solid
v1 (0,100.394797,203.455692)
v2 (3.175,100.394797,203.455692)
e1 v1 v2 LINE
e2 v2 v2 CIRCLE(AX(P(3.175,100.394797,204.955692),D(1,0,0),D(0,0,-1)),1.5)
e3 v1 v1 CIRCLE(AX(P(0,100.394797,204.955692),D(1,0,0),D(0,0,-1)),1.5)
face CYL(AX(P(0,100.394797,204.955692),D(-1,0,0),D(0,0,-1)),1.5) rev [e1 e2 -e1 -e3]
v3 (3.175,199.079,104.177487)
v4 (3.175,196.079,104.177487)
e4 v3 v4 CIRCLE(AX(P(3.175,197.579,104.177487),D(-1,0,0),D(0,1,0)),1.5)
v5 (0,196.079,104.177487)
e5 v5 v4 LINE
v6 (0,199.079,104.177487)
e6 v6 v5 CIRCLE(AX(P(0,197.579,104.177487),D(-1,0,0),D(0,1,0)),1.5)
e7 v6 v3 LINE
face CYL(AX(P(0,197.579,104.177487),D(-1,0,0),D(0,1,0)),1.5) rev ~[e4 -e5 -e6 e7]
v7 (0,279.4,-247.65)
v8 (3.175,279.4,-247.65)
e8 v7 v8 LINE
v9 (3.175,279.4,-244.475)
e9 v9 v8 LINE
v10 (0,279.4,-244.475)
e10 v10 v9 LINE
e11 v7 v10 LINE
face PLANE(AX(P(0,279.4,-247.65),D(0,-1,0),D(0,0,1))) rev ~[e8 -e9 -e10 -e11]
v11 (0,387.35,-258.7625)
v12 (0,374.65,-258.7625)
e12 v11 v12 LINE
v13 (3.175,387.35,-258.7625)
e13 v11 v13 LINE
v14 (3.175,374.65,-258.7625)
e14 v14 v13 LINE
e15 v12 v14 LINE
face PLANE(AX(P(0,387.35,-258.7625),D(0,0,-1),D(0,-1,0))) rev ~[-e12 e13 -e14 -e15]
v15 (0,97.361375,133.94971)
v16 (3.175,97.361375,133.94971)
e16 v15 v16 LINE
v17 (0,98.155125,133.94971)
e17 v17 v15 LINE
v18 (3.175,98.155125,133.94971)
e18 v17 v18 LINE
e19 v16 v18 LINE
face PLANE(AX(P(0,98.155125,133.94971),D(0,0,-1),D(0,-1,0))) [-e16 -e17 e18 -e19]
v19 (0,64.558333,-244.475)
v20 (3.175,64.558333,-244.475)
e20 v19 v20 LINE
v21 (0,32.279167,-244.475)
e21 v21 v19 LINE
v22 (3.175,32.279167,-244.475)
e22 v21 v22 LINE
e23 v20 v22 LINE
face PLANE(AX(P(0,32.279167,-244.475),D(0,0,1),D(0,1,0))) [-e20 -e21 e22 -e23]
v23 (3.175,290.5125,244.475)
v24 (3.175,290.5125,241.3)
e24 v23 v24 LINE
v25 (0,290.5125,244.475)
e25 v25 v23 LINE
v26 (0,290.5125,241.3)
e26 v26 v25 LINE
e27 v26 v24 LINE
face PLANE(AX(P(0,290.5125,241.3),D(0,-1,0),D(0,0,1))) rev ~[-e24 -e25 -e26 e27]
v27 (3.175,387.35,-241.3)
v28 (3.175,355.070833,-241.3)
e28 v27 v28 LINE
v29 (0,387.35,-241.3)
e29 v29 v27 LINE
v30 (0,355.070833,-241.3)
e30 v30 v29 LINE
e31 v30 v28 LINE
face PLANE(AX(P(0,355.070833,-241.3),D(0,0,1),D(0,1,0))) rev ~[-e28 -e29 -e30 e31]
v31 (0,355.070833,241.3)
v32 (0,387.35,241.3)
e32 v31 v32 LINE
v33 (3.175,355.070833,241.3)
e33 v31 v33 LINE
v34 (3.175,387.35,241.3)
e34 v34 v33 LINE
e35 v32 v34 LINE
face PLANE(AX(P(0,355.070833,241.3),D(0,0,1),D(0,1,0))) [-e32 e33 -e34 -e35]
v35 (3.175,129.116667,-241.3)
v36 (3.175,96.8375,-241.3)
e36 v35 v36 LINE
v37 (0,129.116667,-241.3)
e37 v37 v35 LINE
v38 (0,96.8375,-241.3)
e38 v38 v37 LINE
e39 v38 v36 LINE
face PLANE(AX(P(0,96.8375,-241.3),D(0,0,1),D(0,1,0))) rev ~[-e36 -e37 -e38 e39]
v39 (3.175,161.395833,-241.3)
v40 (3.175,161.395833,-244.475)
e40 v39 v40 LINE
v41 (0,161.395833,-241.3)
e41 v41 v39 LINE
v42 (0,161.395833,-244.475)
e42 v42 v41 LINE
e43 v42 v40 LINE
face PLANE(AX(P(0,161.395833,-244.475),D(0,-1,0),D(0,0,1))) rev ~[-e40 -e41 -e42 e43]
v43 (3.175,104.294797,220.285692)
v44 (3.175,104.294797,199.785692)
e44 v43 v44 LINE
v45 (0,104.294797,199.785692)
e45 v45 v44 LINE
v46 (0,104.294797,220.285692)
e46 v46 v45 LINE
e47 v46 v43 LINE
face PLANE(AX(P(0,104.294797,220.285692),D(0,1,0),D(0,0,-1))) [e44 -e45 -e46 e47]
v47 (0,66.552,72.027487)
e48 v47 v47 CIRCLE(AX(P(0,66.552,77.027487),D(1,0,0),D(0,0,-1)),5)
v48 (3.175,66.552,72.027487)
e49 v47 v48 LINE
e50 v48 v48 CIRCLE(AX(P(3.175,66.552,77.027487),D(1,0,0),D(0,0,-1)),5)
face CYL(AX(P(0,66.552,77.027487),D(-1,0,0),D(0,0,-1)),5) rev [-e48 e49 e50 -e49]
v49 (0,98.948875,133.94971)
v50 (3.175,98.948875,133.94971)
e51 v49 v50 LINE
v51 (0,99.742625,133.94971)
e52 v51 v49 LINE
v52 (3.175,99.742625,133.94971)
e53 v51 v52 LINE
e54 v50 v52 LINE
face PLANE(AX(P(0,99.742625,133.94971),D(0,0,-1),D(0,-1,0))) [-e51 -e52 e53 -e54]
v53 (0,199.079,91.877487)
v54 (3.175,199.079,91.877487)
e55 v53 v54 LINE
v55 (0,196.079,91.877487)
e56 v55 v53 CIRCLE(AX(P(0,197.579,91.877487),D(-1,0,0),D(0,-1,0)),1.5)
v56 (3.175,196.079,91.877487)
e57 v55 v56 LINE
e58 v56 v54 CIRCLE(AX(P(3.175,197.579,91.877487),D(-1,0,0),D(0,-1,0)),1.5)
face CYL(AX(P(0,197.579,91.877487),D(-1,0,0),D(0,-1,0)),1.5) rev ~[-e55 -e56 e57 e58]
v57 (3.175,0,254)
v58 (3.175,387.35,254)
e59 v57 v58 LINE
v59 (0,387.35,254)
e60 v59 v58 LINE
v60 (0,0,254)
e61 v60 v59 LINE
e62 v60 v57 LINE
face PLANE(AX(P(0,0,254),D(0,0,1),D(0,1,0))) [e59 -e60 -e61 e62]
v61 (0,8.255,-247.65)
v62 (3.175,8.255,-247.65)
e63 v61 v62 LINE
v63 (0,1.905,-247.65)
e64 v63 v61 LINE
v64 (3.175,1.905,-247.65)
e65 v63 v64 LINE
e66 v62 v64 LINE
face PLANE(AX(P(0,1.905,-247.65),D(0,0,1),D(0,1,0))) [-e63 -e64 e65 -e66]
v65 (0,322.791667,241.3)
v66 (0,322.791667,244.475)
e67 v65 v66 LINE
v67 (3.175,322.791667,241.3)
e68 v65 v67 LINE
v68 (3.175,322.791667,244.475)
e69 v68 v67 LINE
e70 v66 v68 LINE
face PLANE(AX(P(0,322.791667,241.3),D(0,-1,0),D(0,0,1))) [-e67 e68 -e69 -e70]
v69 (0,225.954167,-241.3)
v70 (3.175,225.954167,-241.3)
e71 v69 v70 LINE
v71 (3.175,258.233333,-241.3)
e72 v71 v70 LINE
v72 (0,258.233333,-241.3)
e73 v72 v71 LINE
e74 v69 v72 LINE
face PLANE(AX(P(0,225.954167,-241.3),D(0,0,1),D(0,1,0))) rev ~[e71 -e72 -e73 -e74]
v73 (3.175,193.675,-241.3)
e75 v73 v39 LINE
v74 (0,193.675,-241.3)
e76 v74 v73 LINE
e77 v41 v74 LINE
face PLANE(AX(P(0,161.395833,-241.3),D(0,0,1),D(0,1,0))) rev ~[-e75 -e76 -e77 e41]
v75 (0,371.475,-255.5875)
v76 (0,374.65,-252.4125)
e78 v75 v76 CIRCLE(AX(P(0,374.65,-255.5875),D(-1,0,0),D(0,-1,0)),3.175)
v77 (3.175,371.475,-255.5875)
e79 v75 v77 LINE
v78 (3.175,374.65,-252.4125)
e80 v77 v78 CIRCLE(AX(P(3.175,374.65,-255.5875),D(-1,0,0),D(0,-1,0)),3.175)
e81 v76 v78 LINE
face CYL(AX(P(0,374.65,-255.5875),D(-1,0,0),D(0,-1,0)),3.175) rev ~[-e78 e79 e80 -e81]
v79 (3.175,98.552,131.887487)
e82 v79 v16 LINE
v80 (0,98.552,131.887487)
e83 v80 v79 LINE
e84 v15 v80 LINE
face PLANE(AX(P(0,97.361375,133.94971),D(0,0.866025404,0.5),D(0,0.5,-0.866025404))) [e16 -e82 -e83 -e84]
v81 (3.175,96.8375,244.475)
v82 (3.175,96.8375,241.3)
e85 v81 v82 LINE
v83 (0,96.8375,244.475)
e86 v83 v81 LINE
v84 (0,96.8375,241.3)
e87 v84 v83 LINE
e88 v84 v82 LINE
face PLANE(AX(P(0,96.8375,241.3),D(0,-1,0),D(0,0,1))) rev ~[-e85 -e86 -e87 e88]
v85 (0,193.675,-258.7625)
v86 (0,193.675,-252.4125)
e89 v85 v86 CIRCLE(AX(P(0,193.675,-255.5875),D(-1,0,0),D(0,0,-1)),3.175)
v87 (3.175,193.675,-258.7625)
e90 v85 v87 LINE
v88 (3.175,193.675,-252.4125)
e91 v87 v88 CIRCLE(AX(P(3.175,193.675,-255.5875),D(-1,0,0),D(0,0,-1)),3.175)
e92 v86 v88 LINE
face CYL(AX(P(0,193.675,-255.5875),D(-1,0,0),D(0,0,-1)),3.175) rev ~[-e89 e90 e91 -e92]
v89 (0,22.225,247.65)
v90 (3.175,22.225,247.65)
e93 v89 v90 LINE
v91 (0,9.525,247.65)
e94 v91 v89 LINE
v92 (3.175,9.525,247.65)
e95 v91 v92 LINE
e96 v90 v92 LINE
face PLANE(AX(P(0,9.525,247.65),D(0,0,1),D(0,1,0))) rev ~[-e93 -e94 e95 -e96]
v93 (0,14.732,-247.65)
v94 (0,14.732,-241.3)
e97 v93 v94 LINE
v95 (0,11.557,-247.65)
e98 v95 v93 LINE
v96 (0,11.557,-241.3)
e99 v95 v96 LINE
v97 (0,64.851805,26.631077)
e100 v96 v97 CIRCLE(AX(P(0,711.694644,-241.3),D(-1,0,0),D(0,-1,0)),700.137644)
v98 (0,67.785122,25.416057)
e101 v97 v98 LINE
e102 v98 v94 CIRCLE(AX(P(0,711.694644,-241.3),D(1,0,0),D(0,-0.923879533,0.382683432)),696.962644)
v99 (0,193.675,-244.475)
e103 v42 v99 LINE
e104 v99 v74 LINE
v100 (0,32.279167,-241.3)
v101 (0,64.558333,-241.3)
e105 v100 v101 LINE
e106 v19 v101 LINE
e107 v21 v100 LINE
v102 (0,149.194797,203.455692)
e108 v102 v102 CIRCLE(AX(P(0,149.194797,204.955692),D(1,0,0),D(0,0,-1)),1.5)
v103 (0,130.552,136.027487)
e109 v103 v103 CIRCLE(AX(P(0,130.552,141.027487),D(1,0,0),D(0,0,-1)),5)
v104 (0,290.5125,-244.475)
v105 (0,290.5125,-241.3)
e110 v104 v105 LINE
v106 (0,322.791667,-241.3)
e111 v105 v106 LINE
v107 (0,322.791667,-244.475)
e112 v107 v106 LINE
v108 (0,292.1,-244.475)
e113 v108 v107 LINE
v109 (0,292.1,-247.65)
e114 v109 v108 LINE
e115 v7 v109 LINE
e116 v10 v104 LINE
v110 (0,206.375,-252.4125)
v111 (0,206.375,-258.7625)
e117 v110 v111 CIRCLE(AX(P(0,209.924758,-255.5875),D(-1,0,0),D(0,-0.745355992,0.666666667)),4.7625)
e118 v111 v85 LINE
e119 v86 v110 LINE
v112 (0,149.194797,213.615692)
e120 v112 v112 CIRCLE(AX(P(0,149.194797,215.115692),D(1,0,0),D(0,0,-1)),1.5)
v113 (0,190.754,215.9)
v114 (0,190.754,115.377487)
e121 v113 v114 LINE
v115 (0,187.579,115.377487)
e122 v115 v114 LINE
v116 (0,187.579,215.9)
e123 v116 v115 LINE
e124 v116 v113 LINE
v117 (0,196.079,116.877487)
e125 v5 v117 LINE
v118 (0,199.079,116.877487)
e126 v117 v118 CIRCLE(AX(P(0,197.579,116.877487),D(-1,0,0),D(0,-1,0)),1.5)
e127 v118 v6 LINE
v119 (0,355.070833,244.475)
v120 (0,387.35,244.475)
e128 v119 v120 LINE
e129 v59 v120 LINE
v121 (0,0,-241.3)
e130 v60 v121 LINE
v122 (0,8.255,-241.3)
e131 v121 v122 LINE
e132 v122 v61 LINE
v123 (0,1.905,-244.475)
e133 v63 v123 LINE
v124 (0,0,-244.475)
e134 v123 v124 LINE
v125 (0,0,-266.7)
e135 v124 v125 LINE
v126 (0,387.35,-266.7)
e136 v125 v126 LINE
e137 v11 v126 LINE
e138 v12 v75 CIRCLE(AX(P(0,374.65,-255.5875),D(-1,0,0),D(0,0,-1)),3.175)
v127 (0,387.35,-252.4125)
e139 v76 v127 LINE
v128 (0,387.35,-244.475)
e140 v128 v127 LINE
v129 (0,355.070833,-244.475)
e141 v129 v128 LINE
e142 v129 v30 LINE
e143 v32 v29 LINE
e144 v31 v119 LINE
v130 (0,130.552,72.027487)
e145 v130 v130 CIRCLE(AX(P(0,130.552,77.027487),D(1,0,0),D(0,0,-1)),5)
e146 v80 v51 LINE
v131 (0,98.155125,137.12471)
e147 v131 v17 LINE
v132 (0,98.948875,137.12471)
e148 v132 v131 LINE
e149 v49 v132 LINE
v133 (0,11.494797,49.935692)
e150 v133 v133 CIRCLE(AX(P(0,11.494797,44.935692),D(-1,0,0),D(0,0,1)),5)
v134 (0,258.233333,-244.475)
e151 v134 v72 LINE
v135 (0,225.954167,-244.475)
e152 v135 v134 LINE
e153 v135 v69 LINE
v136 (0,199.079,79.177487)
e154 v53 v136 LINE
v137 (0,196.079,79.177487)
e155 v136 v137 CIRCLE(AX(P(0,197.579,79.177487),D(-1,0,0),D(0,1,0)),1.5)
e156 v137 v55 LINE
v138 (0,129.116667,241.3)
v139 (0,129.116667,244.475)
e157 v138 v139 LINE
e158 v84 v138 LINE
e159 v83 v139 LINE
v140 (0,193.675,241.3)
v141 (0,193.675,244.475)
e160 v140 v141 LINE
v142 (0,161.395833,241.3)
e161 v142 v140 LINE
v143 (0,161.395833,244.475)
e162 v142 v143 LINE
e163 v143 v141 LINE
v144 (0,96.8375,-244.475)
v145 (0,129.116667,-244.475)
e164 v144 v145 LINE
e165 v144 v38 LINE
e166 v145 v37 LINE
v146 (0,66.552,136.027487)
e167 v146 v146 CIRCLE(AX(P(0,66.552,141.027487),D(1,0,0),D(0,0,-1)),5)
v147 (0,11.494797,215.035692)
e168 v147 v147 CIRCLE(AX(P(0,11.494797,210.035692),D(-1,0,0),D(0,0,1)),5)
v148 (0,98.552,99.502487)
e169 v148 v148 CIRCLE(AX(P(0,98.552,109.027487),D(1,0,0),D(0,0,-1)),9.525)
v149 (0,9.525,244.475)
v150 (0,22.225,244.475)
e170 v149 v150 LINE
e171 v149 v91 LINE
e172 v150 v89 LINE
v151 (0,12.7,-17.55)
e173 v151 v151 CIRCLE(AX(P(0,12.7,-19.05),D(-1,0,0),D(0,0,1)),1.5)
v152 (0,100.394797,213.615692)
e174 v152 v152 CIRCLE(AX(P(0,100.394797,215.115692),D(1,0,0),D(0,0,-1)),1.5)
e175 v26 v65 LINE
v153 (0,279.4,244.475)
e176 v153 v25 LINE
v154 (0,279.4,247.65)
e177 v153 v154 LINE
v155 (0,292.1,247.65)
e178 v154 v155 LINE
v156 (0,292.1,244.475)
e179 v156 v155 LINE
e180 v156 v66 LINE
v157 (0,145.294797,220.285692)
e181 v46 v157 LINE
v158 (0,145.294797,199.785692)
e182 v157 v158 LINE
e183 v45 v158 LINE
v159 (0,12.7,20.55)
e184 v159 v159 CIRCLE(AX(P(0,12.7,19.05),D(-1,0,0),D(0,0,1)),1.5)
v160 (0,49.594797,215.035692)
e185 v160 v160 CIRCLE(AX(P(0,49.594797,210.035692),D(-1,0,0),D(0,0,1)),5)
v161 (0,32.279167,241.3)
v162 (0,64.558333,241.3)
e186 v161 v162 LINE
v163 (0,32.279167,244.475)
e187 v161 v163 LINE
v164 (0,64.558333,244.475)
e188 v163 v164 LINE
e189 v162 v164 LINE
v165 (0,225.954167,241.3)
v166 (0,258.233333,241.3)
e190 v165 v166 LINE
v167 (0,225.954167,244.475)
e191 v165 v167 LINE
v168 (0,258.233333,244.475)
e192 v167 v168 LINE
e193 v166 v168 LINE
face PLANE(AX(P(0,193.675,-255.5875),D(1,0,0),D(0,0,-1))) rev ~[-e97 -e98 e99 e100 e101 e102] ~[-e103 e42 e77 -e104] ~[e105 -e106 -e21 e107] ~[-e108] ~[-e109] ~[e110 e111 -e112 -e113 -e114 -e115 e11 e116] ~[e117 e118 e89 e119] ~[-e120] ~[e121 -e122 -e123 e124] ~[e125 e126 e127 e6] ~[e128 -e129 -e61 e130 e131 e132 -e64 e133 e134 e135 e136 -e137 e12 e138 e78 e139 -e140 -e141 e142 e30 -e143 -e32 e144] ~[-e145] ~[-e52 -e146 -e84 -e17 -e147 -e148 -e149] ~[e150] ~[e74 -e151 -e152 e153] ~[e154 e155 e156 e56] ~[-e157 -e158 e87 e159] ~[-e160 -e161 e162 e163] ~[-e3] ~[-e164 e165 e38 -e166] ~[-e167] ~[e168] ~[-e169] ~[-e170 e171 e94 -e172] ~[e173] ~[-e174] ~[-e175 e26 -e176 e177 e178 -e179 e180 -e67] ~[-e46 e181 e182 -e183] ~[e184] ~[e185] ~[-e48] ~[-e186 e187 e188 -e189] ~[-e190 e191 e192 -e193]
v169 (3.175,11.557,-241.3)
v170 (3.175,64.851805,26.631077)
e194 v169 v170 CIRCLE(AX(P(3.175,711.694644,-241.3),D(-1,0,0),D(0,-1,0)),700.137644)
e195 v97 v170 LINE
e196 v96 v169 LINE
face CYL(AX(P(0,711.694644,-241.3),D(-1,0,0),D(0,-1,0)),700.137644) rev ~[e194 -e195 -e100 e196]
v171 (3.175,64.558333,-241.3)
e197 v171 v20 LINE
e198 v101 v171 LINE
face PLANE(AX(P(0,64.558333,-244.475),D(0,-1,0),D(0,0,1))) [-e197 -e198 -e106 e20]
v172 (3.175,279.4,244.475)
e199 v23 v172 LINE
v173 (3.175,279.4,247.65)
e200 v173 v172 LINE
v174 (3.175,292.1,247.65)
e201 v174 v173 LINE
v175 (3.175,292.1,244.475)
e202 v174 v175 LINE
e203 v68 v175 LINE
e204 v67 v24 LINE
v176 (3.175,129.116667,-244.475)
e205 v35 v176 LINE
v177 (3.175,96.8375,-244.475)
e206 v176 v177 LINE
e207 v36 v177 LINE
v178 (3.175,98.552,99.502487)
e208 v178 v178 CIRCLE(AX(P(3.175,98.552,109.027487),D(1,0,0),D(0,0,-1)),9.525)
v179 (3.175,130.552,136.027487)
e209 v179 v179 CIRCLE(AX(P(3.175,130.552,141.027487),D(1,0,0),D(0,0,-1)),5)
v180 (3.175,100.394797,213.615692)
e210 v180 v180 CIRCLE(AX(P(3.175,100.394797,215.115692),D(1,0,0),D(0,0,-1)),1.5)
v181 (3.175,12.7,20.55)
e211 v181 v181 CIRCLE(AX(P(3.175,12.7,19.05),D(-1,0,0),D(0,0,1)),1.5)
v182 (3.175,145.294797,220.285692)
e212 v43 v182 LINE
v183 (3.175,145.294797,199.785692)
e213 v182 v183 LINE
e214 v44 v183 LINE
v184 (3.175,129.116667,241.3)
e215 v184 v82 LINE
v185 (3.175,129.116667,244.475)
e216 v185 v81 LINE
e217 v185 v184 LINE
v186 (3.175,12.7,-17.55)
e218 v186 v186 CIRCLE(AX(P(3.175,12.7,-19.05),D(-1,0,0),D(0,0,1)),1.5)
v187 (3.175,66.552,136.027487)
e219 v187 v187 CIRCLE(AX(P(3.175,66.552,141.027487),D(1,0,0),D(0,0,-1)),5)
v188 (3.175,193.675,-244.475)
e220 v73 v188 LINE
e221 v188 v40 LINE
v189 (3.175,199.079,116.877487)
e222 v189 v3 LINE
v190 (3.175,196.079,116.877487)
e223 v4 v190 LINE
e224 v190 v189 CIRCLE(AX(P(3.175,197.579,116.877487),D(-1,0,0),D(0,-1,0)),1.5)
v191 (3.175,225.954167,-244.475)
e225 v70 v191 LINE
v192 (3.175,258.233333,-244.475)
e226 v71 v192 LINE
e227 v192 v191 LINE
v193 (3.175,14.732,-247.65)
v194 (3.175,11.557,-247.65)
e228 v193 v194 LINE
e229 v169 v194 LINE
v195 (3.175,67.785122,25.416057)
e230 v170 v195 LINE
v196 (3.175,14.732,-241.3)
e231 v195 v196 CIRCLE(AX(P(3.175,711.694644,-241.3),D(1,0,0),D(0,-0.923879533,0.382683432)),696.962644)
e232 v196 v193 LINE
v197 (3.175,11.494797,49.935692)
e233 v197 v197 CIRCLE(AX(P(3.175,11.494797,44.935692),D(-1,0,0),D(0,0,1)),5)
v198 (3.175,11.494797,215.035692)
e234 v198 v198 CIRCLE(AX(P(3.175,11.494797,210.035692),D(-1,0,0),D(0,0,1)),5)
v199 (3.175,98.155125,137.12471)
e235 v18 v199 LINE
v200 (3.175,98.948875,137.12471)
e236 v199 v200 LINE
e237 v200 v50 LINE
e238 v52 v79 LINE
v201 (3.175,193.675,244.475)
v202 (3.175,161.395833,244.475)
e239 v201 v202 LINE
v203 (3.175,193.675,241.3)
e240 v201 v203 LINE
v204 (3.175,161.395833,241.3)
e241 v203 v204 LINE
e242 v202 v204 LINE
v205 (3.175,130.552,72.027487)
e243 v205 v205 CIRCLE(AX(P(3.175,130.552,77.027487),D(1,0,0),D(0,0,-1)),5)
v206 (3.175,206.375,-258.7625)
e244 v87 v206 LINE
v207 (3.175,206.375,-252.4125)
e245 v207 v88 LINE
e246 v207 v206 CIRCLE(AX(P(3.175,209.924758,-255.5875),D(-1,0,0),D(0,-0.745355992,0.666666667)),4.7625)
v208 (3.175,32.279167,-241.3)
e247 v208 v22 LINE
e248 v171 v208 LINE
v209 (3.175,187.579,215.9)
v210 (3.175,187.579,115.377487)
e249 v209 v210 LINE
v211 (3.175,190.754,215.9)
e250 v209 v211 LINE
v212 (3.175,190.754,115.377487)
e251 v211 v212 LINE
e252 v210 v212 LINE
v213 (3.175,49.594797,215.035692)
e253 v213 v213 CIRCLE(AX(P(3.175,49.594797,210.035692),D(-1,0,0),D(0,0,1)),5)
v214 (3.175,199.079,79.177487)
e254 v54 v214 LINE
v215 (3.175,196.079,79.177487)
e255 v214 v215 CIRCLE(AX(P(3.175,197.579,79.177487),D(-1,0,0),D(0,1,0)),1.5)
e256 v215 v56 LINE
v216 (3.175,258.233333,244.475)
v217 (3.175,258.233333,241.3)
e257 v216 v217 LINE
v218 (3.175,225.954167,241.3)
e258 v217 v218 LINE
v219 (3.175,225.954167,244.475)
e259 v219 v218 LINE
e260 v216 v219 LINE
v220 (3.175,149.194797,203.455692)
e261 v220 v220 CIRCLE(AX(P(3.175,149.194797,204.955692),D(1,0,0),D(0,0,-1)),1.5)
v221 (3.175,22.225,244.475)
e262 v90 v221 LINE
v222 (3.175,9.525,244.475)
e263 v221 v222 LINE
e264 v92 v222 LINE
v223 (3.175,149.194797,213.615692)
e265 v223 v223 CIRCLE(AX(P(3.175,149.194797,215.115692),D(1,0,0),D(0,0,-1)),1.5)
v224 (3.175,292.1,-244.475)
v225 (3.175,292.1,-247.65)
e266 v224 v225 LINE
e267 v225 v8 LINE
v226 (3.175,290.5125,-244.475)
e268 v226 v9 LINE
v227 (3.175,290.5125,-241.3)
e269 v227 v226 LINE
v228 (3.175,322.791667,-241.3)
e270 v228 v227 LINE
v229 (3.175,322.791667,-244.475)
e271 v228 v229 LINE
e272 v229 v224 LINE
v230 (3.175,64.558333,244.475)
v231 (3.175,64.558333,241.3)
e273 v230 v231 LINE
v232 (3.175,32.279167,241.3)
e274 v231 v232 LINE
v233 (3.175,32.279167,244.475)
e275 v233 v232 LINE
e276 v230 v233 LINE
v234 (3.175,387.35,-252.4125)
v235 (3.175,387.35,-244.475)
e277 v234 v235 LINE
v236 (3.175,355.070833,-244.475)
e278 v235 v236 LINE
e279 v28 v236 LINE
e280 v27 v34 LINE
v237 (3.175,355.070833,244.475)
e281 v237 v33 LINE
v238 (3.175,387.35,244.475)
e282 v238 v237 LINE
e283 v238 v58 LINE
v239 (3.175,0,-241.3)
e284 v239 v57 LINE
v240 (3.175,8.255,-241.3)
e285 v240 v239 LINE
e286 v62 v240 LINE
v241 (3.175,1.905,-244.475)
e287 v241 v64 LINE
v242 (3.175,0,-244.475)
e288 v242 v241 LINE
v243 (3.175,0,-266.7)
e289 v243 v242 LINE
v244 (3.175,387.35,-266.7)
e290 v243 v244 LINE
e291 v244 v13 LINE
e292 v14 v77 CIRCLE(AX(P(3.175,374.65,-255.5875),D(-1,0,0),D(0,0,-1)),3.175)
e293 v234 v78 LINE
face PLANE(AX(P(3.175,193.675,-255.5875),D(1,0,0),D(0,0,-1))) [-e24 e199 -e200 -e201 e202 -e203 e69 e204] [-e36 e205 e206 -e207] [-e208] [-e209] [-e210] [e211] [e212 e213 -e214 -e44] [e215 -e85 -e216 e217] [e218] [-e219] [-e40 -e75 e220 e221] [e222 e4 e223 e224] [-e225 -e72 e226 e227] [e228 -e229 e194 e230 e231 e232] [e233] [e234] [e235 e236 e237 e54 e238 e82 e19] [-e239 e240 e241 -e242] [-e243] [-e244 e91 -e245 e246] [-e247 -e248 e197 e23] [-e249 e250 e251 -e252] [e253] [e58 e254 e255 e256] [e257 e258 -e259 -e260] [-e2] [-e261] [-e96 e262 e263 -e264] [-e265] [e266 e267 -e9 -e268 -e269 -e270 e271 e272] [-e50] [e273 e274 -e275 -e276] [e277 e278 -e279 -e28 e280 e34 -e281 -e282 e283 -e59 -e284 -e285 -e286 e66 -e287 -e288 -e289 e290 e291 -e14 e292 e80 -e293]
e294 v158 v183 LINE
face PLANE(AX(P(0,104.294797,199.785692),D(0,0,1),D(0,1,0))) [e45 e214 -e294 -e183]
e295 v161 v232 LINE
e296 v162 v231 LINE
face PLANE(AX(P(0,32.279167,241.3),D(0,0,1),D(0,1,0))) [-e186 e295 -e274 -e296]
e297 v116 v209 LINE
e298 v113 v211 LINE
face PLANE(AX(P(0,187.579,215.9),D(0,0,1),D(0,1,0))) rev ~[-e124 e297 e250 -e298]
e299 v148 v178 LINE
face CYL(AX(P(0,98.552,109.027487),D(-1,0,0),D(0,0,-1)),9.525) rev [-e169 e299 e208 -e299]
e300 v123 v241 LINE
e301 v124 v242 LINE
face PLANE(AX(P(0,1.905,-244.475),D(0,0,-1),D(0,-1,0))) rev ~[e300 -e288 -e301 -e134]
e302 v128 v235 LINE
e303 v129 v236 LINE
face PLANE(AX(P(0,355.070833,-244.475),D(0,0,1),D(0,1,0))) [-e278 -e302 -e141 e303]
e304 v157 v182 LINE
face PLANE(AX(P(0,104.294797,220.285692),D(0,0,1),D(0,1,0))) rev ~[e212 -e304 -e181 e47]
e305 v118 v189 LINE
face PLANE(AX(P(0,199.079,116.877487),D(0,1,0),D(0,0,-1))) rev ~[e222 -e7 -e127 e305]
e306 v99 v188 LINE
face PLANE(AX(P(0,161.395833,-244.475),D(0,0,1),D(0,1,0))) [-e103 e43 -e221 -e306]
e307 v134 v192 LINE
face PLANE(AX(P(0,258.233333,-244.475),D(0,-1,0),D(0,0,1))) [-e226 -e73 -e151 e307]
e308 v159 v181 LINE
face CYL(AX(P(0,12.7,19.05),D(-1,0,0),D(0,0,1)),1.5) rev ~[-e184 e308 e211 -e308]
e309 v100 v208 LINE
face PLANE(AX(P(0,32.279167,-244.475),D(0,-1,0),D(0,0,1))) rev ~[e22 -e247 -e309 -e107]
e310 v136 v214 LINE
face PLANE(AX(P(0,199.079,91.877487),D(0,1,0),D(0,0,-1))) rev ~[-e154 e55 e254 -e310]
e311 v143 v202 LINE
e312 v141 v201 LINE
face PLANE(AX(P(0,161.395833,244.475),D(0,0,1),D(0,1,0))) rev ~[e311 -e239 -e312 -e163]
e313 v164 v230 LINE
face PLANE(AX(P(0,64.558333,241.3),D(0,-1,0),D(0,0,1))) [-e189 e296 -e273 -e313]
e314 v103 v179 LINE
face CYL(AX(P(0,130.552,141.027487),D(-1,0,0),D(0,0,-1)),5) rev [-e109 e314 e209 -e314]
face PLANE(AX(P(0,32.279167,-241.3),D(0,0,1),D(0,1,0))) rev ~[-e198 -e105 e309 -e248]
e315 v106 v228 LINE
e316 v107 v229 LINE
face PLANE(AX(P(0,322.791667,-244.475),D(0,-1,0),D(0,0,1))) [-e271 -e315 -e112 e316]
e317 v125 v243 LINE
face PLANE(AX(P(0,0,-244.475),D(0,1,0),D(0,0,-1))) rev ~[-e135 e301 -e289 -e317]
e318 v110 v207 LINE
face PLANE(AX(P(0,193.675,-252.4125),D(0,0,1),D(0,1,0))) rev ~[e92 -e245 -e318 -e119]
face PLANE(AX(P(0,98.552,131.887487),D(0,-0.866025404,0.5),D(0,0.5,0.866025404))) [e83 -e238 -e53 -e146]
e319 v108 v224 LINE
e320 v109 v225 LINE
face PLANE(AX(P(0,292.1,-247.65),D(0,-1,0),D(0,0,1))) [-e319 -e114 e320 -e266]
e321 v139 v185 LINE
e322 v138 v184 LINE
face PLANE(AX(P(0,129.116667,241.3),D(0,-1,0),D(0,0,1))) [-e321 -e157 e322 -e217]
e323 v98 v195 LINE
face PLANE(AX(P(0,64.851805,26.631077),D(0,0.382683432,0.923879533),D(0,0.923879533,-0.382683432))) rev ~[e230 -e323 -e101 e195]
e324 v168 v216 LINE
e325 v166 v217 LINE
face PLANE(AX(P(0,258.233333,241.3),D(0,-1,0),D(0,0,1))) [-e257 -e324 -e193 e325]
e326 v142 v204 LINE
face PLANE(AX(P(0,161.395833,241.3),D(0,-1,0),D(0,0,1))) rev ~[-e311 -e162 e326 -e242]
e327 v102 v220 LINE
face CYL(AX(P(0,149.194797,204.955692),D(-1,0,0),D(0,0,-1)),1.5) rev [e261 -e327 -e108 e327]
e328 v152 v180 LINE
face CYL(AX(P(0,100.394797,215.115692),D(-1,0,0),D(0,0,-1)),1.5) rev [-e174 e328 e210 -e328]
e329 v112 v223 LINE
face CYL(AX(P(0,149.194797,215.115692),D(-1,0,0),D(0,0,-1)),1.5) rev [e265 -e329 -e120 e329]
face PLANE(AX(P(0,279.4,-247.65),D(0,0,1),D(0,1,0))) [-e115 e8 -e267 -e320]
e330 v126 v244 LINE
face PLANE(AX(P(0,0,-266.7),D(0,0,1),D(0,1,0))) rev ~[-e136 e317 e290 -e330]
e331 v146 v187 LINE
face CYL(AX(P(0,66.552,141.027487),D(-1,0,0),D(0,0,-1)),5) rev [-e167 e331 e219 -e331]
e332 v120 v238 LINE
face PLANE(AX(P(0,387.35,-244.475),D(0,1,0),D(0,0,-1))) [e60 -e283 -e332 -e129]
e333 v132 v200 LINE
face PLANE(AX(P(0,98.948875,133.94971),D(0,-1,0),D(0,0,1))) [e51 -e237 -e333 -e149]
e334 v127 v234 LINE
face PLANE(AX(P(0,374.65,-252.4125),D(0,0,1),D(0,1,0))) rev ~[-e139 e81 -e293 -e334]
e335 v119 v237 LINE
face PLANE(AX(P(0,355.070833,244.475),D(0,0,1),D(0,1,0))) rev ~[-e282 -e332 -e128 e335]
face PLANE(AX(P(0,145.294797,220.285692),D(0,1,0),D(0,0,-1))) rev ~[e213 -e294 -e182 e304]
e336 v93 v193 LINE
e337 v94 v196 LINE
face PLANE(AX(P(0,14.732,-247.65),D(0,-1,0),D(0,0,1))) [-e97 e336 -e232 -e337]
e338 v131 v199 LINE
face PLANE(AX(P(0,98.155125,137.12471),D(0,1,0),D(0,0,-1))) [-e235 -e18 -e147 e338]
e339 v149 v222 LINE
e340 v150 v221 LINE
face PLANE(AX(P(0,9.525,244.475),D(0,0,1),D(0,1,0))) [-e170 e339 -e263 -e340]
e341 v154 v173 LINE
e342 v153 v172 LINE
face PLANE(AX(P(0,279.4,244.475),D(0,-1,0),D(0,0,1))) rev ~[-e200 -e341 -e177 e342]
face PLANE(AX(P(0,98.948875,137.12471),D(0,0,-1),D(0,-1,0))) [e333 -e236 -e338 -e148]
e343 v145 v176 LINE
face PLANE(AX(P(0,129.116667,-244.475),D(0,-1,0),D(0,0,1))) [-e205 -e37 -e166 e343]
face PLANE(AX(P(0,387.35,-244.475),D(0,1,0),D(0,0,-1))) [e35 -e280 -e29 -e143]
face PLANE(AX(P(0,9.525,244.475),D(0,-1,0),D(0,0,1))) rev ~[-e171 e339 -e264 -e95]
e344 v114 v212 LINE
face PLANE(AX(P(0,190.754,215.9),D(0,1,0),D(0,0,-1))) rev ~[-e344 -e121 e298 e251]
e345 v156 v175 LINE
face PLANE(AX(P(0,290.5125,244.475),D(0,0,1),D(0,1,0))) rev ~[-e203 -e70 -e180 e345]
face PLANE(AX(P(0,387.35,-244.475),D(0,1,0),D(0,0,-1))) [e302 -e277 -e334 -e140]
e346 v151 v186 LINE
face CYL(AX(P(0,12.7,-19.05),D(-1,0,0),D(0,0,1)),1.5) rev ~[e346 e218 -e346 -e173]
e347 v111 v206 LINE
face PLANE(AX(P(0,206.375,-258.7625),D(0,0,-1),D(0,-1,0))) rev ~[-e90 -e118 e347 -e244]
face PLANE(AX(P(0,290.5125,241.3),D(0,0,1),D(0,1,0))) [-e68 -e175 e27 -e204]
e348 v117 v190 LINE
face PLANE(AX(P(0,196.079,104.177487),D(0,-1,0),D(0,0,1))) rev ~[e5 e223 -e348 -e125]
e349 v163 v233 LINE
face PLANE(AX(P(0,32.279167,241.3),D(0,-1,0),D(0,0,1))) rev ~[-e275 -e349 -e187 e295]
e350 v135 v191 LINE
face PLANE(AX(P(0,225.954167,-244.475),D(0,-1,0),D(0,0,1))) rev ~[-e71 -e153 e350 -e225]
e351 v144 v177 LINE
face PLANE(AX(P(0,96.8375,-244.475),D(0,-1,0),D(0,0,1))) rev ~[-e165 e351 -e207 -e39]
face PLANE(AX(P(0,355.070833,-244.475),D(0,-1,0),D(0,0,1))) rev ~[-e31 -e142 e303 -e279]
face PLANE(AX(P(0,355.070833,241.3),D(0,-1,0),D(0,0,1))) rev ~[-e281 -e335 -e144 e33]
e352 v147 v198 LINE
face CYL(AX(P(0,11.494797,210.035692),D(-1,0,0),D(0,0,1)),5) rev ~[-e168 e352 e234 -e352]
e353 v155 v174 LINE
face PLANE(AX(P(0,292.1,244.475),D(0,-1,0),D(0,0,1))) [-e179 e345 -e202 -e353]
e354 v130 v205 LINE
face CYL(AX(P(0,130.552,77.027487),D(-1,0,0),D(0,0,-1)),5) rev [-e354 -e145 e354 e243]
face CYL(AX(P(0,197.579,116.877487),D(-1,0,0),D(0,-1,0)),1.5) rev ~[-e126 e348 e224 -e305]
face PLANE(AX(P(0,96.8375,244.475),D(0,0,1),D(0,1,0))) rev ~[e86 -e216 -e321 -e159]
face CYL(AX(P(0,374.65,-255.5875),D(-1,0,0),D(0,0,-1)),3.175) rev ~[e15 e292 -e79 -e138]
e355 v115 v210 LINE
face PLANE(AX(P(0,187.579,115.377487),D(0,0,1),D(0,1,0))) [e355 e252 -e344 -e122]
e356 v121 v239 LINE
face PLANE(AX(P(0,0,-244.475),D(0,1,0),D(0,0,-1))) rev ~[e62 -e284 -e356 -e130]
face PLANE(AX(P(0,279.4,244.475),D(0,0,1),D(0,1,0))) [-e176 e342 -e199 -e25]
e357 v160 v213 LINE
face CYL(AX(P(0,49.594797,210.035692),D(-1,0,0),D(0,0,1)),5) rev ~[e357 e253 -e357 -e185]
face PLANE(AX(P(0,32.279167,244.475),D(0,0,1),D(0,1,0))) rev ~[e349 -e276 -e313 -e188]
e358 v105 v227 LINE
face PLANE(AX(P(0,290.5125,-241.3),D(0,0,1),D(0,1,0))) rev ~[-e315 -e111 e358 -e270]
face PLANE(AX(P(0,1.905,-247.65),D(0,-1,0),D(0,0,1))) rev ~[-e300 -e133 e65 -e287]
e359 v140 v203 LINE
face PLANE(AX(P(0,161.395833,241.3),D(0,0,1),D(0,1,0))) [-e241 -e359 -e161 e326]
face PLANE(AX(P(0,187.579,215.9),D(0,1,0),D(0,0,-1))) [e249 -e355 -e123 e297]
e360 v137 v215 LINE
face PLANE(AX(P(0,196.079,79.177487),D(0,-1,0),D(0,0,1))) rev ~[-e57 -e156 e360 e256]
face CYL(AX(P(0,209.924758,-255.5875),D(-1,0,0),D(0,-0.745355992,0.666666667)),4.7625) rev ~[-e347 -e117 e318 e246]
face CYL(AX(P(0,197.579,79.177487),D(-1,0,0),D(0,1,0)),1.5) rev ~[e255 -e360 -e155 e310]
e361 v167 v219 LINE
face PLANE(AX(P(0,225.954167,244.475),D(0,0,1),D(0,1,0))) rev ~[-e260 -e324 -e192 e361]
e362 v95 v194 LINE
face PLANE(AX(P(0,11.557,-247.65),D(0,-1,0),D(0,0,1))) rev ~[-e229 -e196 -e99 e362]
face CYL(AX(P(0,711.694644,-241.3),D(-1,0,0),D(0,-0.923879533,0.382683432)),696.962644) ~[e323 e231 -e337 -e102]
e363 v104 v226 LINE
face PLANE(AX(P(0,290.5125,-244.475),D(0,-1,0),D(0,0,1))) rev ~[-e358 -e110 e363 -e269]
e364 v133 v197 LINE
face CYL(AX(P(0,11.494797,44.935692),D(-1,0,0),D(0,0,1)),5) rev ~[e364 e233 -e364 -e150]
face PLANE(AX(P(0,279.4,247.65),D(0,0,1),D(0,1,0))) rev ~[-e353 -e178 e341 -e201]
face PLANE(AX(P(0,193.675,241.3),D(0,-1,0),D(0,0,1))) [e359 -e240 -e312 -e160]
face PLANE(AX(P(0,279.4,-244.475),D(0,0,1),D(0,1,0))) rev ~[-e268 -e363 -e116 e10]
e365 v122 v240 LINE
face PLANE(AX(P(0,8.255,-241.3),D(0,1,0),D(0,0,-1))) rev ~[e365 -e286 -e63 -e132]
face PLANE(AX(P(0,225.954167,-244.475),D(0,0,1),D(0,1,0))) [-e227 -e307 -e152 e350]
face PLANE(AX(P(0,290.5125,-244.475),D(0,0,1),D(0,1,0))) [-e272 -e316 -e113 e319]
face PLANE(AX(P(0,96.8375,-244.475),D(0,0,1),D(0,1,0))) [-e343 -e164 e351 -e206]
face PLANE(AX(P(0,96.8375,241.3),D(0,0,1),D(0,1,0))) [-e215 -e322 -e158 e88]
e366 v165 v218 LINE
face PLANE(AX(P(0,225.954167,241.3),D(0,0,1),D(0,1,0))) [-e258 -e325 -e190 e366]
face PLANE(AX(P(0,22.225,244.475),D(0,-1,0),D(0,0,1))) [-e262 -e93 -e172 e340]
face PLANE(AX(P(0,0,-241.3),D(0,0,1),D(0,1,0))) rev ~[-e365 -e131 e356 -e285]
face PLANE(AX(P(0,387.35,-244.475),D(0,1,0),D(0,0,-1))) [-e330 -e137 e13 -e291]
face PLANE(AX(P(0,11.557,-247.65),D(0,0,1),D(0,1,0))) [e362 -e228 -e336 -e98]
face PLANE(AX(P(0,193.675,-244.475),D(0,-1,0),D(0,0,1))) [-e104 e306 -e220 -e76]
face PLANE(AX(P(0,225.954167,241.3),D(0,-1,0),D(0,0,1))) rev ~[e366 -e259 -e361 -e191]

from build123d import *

# Parameters (mm, degrees)
SKETCH1_W           = 488.95
SKETCH1_H           = 387.35
SKETCH1_R           = 5
SKETCH1_R_2         = 1.5
SKETCH1_W_2         = 20.5
SKETCH1_H_2         = 41
SKETCH1_W_3         = 100.522513204
SKETCH1_H_3         = 3.175
SKETCH1_R_3         = 9.525
SKETCH1_W_4         = 9.525
SKETCH1_W_5         = 22.225
BOSS_EXTRUDE1_DEPTH = 3.175
SKETCH2_W           = 3.175
SKETCH2_H           = 32.279166666
SKETCH2_H_2         = 32.279166667
CUT_EXTRUDE1_DEPTH  = 471.296707542
SKETCH3_W           = 6.35
SKETCH3_H           = 3.175
CUT_EXTRUDE2_DEPTH  = 471.296707542
SKETCH4_R           = 5
CUT_EXTRUDE3_DEPTH  = 471.296707542
SKETCH5_R           = 1.5
CUT_EXTRUDE4_DEPTH  = 471.296707542
SKETCH6_W           = 3.175
SKETCH6_H           = 6.35
SKETCH6_H_2         = 12.7
CUT_EXTRUDE5_DEPTH  = 471.296707542
CUT_EXTRUDE6_DEPTH  = 471.296707542


with BuildPart() as part:
    # Sketch1 → Boss-Extrude1 (new body)
    # profile 1 of 3: a face of its own
    with BuildSketch(Plane(origin=(0, 0, 0), x_dir=(0, 0, -1), z_dir=(1, 0, 0))):
        with Locations((0, 193.675)):
            Rectangle(SKETCH1_W, SKETCH1_H)
        with Locations((-141.027486796, 66.552)):
            Circle(SKETCH1_R, mode=Mode.SUBTRACT)
        with Locations((-77.027486796, 66.552)):
            Circle(SKETCH1_R, mode=Mode.SUBTRACT)
        with Locations((-215.115692196, 100.3947974)):
            Circle(SKETCH1_R_2, mode=Mode.SUBTRACT)
        with Locations((-204.955692196, 100.3947974)):
            Circle(SKETCH1_R_2, mode=Mode.SUBTRACT)
        with Locations((-210.035692196, 124.7947974)):
            Rectangle(SKETCH1_W_2, SKETCH1_H_2, mode=Mode.SUBTRACT)
        with Locations((-141.027486796, 130.552)):
            Circle(SKETCH1_R, mode=Mode.SUBTRACT)
        with Locations((-215.115692196, 149.1947974)):
            Circle(SKETCH1_R_2, mode=Mode.SUBTRACT)
        with Locations((-204.955692196, 149.1947974)):
            Circle(SKETCH1_R_2, mode=Mode.SUBTRACT)
        with Locations((-165.638743398, 189.1665)):
            Rectangle(SKETCH1_W_3, SKETCH1_H_3, mode=Mode.SUBTRACT)
        with Locations((-109.027486796, 98.552)):
            Circle(SKETCH1_R_3, mode=Mode.SUBTRACT)
        with Locations((-77.027486796, 130.552)):
            Circle(SKETCH1_R, mode=Mode.SUBTRACT)
        with BuildLine():
            ThreePointArc((241.3, 11.557), (104.709921611, 25.009948505), (-26.631076666, 64.851804754))
            Line((-26.631076666, 64.851804754), (-25.416056769, 67.78512227))
            ThreePointArc((-25.416056769, 67.78512227), (105.329333383, 28.12394177), (241.3, 14.732))
            Line((241.3, 14.732), (241.3, 11.557))
        make_face(mode=Mode.SUBTRACT)
        with BuildLine():
            ThreePointArc((-116.877486796, 196.079), (-118.377486796, 197.579), (-116.877486796, 199.079))
            Line((-116.877486796, 199.079), (-104.177486796, 199.079))
            ThreePointArc((-104.177486796, 199.079), (-102.677486796, 197.579), (-104.177486796, 196.079))
            Line((-104.177486796, 196.079), (-116.877486796, 196.079))
        make_face(mode=Mode.SUBTRACT)
        with BuildLine():
            Line((-79.177486758, 196.079), (-91.877486758, 196.079))
            ThreePointArc((-91.877486758, 196.079), (-93.377486758, 197.579), (-91.877486758, 199.079))
            Line((-91.877486758, 199.079), (-79.177486758, 199.079))
            ThreePointArc((-79.177486758, 199.079), (-77.677486758, 197.579), (-79.177486758, 196.079))
        make_face(mode=Mode.SUBTRACT)
    # profile 2 of 3: a face of its own
    with BuildSketch(Plane(origin=(0, 0, 0), x_dir=(0, 0, -1), z_dir=(1, 0, 0))):
        with Locations((-249.2375, 193.675)):
            Rectangle(SKETCH1_W_4, SKETCH1_H)
    # profile 3 of 3: a face of its own
    with BuildSketch(Plane(origin=(0, 0, 0), x_dir=(0, 0, -1), z_dir=(1, 0, 0))):
        with Locations((255.5875, 193.675)):
            Rectangle(SKETCH1_W_5, SKETCH1_H)
    extrude(amount=BOSS_EXTRUDE1_DEPTH)

    # Sketch2 → Cut-Extrude1 (cut, through all)
    with BuildSketch(Plane.ZY):
        with Locations((-242.8875, 48.41875)):
            Rectangle(SKETCH2_W, SKETCH2_H)
        with Locations((-242.8875, 112.977083334)):
            Rectangle(SKETCH2_W, SKETCH2_H_2)
        with Locations((-242.8875, 177.535416666)):
            Rectangle(SKETCH2_W, SKETCH2_H_2)
        with Locations((-242.8875, 306.652083334)):
            Rectangle(SKETCH2_W, SKETCH2_H_2)
        with Locations((-242.8875, 371.210416667)):
            Rectangle(SKETCH2_W, SKETCH2_H_2)
        with Locations((-242.8875, 242.09375)):
            Rectangle(SKETCH2_W, SKETCH2_H)
        with Locations((242.8875, 371.210416667)):
            Rectangle(SKETCH2_W, SKETCH2_H_2)
        with Locations((242.8875, 306.652083334)):
            Rectangle(SKETCH2_W, SKETCH2_H_2)
        with Locations((242.8875, 242.09375)):
            Rectangle(SKETCH2_W, SKETCH2_H)
        with Locations((242.8875, 177.535416666)):
            Rectangle(SKETCH2_W, SKETCH2_H_2)
        with Locations((242.8875, 112.977083334)):
            Rectangle(SKETCH2_W, SKETCH2_H_2)
        with Locations((242.8875, 48.41875)):
            Rectangle(SKETCH2_W, SKETCH2_H)
    extrude(amount=-CUT_EXTRUDE1_DEPTH, mode=Mode.SUBTRACT)

    # Sketch3 → Cut-Extrude2 (cut, through all)
    with BuildSketch(Plane.ZY):
        with BuildLine():
            Line((-258.7625, 206.375), (-258.7625, 193.675))
            ThreePointArc((-258.7625, 193.675), (-255.5875, 190.5), (-252.4125, 193.675))
            Line((-252.4125, 193.675), (-252.4125, 206.375))
            ThreePointArc((-252.4125, 206.375), (-255.5875, 214.687257914), (-258.7625, 206.375))
        make_face()
        with BuildLine():
            ThreePointArc((-258.7625, 374.65), (-257.83256403, 372.40493597), (-255.5875, 371.475))
            ThreePointArc((-255.5875, 371.475), (-253.34243597, 372.40493597), (-252.4125, 374.65))
            Line((-252.4125, 374.65), (-252.4125, 387.35))
            Line((-252.4125, 387.35), (-258.7625, 387.35))
            Line((-258.7625, 387.35), (-258.7625, 374.65))
        make_face()
        with Locations((-244.475, 13.1445)):
            Rectangle(SKETCH3_W, SKETCH3_H)
    extrude(amount=-CUT_EXTRUDE2_DEPTH, mode=Mode.SUBTRACT)

    # Sketch4 → Cut-Extrude3 (cut, through all)
    with BuildSketch(Plane.ZY):
        with Locations((210.035692196, 49.5947974)):
            Circle(SKETCH4_R)
        with Locations((44.935692196, 11.4947974)):
            Circle(SKETCH4_R)
        with Locations((210.035692196, 11.4947974)):
            Circle(SKETCH4_R)
    extrude(amount=-CUT_EXTRUDE3_DEPTH, mode=Mode.SUBTRACT)

    # Sketch5 → Cut-Extrude4 (cut, through all)
    with BuildSketch(Plane.ZY):
        with Locations((-19.05, 12.7)):
            Circle(SKETCH5_R)
        with Locations((19.05, 12.7)):
            Circle(SKETCH5_R)
    extrude(amount=-CUT_EXTRUDE4_DEPTH, mode=Mode.SUBTRACT)

    # Sketch6 → Cut-Extrude5 (cut, through all)
    with BuildSketch(Plane.ZY):
        Polygon((-244.475, 8.255), (-244.475, 1.905), (-244.475, 0), (-241.3, 0), (-241.3, 8.255), align=None)
        with Locations((-246.0625, 5.08)):
            Rectangle(SKETCH6_W, SKETCH6_H)
        with Locations((-246.0625, 285.75)):
            Rectangle(SKETCH6_W, SKETCH6_H_2)
        with Locations((246.0625, 285.75)):
            Rectangle(SKETCH6_W, SKETCH6_H_2)
        with Locations((246.0625, 15.875)):
            Rectangle(SKETCH6_W, SKETCH6_H_2)
    extrude(amount=-CUT_EXTRUDE5_DEPTH, mode=Mode.SUBTRACT)

    # Sketch7 → Cut-Extrude6 (cut, through all)
    with BuildSketch(Plane.ZY):
        Polygon((137.124709789, 98.948875), (137.124709789, 98.155125), (133.949709789, 98.155125), (133.949709789, 97.361375), (131.887486796, 98.552), (133.949709789, 99.742625), (133.949709789, 98.948875), align=None)
    extrude(amount=-CUT_EXTRUDE6_DEPTH, mode=Mode.SUBTRACT)


solid = part.part
